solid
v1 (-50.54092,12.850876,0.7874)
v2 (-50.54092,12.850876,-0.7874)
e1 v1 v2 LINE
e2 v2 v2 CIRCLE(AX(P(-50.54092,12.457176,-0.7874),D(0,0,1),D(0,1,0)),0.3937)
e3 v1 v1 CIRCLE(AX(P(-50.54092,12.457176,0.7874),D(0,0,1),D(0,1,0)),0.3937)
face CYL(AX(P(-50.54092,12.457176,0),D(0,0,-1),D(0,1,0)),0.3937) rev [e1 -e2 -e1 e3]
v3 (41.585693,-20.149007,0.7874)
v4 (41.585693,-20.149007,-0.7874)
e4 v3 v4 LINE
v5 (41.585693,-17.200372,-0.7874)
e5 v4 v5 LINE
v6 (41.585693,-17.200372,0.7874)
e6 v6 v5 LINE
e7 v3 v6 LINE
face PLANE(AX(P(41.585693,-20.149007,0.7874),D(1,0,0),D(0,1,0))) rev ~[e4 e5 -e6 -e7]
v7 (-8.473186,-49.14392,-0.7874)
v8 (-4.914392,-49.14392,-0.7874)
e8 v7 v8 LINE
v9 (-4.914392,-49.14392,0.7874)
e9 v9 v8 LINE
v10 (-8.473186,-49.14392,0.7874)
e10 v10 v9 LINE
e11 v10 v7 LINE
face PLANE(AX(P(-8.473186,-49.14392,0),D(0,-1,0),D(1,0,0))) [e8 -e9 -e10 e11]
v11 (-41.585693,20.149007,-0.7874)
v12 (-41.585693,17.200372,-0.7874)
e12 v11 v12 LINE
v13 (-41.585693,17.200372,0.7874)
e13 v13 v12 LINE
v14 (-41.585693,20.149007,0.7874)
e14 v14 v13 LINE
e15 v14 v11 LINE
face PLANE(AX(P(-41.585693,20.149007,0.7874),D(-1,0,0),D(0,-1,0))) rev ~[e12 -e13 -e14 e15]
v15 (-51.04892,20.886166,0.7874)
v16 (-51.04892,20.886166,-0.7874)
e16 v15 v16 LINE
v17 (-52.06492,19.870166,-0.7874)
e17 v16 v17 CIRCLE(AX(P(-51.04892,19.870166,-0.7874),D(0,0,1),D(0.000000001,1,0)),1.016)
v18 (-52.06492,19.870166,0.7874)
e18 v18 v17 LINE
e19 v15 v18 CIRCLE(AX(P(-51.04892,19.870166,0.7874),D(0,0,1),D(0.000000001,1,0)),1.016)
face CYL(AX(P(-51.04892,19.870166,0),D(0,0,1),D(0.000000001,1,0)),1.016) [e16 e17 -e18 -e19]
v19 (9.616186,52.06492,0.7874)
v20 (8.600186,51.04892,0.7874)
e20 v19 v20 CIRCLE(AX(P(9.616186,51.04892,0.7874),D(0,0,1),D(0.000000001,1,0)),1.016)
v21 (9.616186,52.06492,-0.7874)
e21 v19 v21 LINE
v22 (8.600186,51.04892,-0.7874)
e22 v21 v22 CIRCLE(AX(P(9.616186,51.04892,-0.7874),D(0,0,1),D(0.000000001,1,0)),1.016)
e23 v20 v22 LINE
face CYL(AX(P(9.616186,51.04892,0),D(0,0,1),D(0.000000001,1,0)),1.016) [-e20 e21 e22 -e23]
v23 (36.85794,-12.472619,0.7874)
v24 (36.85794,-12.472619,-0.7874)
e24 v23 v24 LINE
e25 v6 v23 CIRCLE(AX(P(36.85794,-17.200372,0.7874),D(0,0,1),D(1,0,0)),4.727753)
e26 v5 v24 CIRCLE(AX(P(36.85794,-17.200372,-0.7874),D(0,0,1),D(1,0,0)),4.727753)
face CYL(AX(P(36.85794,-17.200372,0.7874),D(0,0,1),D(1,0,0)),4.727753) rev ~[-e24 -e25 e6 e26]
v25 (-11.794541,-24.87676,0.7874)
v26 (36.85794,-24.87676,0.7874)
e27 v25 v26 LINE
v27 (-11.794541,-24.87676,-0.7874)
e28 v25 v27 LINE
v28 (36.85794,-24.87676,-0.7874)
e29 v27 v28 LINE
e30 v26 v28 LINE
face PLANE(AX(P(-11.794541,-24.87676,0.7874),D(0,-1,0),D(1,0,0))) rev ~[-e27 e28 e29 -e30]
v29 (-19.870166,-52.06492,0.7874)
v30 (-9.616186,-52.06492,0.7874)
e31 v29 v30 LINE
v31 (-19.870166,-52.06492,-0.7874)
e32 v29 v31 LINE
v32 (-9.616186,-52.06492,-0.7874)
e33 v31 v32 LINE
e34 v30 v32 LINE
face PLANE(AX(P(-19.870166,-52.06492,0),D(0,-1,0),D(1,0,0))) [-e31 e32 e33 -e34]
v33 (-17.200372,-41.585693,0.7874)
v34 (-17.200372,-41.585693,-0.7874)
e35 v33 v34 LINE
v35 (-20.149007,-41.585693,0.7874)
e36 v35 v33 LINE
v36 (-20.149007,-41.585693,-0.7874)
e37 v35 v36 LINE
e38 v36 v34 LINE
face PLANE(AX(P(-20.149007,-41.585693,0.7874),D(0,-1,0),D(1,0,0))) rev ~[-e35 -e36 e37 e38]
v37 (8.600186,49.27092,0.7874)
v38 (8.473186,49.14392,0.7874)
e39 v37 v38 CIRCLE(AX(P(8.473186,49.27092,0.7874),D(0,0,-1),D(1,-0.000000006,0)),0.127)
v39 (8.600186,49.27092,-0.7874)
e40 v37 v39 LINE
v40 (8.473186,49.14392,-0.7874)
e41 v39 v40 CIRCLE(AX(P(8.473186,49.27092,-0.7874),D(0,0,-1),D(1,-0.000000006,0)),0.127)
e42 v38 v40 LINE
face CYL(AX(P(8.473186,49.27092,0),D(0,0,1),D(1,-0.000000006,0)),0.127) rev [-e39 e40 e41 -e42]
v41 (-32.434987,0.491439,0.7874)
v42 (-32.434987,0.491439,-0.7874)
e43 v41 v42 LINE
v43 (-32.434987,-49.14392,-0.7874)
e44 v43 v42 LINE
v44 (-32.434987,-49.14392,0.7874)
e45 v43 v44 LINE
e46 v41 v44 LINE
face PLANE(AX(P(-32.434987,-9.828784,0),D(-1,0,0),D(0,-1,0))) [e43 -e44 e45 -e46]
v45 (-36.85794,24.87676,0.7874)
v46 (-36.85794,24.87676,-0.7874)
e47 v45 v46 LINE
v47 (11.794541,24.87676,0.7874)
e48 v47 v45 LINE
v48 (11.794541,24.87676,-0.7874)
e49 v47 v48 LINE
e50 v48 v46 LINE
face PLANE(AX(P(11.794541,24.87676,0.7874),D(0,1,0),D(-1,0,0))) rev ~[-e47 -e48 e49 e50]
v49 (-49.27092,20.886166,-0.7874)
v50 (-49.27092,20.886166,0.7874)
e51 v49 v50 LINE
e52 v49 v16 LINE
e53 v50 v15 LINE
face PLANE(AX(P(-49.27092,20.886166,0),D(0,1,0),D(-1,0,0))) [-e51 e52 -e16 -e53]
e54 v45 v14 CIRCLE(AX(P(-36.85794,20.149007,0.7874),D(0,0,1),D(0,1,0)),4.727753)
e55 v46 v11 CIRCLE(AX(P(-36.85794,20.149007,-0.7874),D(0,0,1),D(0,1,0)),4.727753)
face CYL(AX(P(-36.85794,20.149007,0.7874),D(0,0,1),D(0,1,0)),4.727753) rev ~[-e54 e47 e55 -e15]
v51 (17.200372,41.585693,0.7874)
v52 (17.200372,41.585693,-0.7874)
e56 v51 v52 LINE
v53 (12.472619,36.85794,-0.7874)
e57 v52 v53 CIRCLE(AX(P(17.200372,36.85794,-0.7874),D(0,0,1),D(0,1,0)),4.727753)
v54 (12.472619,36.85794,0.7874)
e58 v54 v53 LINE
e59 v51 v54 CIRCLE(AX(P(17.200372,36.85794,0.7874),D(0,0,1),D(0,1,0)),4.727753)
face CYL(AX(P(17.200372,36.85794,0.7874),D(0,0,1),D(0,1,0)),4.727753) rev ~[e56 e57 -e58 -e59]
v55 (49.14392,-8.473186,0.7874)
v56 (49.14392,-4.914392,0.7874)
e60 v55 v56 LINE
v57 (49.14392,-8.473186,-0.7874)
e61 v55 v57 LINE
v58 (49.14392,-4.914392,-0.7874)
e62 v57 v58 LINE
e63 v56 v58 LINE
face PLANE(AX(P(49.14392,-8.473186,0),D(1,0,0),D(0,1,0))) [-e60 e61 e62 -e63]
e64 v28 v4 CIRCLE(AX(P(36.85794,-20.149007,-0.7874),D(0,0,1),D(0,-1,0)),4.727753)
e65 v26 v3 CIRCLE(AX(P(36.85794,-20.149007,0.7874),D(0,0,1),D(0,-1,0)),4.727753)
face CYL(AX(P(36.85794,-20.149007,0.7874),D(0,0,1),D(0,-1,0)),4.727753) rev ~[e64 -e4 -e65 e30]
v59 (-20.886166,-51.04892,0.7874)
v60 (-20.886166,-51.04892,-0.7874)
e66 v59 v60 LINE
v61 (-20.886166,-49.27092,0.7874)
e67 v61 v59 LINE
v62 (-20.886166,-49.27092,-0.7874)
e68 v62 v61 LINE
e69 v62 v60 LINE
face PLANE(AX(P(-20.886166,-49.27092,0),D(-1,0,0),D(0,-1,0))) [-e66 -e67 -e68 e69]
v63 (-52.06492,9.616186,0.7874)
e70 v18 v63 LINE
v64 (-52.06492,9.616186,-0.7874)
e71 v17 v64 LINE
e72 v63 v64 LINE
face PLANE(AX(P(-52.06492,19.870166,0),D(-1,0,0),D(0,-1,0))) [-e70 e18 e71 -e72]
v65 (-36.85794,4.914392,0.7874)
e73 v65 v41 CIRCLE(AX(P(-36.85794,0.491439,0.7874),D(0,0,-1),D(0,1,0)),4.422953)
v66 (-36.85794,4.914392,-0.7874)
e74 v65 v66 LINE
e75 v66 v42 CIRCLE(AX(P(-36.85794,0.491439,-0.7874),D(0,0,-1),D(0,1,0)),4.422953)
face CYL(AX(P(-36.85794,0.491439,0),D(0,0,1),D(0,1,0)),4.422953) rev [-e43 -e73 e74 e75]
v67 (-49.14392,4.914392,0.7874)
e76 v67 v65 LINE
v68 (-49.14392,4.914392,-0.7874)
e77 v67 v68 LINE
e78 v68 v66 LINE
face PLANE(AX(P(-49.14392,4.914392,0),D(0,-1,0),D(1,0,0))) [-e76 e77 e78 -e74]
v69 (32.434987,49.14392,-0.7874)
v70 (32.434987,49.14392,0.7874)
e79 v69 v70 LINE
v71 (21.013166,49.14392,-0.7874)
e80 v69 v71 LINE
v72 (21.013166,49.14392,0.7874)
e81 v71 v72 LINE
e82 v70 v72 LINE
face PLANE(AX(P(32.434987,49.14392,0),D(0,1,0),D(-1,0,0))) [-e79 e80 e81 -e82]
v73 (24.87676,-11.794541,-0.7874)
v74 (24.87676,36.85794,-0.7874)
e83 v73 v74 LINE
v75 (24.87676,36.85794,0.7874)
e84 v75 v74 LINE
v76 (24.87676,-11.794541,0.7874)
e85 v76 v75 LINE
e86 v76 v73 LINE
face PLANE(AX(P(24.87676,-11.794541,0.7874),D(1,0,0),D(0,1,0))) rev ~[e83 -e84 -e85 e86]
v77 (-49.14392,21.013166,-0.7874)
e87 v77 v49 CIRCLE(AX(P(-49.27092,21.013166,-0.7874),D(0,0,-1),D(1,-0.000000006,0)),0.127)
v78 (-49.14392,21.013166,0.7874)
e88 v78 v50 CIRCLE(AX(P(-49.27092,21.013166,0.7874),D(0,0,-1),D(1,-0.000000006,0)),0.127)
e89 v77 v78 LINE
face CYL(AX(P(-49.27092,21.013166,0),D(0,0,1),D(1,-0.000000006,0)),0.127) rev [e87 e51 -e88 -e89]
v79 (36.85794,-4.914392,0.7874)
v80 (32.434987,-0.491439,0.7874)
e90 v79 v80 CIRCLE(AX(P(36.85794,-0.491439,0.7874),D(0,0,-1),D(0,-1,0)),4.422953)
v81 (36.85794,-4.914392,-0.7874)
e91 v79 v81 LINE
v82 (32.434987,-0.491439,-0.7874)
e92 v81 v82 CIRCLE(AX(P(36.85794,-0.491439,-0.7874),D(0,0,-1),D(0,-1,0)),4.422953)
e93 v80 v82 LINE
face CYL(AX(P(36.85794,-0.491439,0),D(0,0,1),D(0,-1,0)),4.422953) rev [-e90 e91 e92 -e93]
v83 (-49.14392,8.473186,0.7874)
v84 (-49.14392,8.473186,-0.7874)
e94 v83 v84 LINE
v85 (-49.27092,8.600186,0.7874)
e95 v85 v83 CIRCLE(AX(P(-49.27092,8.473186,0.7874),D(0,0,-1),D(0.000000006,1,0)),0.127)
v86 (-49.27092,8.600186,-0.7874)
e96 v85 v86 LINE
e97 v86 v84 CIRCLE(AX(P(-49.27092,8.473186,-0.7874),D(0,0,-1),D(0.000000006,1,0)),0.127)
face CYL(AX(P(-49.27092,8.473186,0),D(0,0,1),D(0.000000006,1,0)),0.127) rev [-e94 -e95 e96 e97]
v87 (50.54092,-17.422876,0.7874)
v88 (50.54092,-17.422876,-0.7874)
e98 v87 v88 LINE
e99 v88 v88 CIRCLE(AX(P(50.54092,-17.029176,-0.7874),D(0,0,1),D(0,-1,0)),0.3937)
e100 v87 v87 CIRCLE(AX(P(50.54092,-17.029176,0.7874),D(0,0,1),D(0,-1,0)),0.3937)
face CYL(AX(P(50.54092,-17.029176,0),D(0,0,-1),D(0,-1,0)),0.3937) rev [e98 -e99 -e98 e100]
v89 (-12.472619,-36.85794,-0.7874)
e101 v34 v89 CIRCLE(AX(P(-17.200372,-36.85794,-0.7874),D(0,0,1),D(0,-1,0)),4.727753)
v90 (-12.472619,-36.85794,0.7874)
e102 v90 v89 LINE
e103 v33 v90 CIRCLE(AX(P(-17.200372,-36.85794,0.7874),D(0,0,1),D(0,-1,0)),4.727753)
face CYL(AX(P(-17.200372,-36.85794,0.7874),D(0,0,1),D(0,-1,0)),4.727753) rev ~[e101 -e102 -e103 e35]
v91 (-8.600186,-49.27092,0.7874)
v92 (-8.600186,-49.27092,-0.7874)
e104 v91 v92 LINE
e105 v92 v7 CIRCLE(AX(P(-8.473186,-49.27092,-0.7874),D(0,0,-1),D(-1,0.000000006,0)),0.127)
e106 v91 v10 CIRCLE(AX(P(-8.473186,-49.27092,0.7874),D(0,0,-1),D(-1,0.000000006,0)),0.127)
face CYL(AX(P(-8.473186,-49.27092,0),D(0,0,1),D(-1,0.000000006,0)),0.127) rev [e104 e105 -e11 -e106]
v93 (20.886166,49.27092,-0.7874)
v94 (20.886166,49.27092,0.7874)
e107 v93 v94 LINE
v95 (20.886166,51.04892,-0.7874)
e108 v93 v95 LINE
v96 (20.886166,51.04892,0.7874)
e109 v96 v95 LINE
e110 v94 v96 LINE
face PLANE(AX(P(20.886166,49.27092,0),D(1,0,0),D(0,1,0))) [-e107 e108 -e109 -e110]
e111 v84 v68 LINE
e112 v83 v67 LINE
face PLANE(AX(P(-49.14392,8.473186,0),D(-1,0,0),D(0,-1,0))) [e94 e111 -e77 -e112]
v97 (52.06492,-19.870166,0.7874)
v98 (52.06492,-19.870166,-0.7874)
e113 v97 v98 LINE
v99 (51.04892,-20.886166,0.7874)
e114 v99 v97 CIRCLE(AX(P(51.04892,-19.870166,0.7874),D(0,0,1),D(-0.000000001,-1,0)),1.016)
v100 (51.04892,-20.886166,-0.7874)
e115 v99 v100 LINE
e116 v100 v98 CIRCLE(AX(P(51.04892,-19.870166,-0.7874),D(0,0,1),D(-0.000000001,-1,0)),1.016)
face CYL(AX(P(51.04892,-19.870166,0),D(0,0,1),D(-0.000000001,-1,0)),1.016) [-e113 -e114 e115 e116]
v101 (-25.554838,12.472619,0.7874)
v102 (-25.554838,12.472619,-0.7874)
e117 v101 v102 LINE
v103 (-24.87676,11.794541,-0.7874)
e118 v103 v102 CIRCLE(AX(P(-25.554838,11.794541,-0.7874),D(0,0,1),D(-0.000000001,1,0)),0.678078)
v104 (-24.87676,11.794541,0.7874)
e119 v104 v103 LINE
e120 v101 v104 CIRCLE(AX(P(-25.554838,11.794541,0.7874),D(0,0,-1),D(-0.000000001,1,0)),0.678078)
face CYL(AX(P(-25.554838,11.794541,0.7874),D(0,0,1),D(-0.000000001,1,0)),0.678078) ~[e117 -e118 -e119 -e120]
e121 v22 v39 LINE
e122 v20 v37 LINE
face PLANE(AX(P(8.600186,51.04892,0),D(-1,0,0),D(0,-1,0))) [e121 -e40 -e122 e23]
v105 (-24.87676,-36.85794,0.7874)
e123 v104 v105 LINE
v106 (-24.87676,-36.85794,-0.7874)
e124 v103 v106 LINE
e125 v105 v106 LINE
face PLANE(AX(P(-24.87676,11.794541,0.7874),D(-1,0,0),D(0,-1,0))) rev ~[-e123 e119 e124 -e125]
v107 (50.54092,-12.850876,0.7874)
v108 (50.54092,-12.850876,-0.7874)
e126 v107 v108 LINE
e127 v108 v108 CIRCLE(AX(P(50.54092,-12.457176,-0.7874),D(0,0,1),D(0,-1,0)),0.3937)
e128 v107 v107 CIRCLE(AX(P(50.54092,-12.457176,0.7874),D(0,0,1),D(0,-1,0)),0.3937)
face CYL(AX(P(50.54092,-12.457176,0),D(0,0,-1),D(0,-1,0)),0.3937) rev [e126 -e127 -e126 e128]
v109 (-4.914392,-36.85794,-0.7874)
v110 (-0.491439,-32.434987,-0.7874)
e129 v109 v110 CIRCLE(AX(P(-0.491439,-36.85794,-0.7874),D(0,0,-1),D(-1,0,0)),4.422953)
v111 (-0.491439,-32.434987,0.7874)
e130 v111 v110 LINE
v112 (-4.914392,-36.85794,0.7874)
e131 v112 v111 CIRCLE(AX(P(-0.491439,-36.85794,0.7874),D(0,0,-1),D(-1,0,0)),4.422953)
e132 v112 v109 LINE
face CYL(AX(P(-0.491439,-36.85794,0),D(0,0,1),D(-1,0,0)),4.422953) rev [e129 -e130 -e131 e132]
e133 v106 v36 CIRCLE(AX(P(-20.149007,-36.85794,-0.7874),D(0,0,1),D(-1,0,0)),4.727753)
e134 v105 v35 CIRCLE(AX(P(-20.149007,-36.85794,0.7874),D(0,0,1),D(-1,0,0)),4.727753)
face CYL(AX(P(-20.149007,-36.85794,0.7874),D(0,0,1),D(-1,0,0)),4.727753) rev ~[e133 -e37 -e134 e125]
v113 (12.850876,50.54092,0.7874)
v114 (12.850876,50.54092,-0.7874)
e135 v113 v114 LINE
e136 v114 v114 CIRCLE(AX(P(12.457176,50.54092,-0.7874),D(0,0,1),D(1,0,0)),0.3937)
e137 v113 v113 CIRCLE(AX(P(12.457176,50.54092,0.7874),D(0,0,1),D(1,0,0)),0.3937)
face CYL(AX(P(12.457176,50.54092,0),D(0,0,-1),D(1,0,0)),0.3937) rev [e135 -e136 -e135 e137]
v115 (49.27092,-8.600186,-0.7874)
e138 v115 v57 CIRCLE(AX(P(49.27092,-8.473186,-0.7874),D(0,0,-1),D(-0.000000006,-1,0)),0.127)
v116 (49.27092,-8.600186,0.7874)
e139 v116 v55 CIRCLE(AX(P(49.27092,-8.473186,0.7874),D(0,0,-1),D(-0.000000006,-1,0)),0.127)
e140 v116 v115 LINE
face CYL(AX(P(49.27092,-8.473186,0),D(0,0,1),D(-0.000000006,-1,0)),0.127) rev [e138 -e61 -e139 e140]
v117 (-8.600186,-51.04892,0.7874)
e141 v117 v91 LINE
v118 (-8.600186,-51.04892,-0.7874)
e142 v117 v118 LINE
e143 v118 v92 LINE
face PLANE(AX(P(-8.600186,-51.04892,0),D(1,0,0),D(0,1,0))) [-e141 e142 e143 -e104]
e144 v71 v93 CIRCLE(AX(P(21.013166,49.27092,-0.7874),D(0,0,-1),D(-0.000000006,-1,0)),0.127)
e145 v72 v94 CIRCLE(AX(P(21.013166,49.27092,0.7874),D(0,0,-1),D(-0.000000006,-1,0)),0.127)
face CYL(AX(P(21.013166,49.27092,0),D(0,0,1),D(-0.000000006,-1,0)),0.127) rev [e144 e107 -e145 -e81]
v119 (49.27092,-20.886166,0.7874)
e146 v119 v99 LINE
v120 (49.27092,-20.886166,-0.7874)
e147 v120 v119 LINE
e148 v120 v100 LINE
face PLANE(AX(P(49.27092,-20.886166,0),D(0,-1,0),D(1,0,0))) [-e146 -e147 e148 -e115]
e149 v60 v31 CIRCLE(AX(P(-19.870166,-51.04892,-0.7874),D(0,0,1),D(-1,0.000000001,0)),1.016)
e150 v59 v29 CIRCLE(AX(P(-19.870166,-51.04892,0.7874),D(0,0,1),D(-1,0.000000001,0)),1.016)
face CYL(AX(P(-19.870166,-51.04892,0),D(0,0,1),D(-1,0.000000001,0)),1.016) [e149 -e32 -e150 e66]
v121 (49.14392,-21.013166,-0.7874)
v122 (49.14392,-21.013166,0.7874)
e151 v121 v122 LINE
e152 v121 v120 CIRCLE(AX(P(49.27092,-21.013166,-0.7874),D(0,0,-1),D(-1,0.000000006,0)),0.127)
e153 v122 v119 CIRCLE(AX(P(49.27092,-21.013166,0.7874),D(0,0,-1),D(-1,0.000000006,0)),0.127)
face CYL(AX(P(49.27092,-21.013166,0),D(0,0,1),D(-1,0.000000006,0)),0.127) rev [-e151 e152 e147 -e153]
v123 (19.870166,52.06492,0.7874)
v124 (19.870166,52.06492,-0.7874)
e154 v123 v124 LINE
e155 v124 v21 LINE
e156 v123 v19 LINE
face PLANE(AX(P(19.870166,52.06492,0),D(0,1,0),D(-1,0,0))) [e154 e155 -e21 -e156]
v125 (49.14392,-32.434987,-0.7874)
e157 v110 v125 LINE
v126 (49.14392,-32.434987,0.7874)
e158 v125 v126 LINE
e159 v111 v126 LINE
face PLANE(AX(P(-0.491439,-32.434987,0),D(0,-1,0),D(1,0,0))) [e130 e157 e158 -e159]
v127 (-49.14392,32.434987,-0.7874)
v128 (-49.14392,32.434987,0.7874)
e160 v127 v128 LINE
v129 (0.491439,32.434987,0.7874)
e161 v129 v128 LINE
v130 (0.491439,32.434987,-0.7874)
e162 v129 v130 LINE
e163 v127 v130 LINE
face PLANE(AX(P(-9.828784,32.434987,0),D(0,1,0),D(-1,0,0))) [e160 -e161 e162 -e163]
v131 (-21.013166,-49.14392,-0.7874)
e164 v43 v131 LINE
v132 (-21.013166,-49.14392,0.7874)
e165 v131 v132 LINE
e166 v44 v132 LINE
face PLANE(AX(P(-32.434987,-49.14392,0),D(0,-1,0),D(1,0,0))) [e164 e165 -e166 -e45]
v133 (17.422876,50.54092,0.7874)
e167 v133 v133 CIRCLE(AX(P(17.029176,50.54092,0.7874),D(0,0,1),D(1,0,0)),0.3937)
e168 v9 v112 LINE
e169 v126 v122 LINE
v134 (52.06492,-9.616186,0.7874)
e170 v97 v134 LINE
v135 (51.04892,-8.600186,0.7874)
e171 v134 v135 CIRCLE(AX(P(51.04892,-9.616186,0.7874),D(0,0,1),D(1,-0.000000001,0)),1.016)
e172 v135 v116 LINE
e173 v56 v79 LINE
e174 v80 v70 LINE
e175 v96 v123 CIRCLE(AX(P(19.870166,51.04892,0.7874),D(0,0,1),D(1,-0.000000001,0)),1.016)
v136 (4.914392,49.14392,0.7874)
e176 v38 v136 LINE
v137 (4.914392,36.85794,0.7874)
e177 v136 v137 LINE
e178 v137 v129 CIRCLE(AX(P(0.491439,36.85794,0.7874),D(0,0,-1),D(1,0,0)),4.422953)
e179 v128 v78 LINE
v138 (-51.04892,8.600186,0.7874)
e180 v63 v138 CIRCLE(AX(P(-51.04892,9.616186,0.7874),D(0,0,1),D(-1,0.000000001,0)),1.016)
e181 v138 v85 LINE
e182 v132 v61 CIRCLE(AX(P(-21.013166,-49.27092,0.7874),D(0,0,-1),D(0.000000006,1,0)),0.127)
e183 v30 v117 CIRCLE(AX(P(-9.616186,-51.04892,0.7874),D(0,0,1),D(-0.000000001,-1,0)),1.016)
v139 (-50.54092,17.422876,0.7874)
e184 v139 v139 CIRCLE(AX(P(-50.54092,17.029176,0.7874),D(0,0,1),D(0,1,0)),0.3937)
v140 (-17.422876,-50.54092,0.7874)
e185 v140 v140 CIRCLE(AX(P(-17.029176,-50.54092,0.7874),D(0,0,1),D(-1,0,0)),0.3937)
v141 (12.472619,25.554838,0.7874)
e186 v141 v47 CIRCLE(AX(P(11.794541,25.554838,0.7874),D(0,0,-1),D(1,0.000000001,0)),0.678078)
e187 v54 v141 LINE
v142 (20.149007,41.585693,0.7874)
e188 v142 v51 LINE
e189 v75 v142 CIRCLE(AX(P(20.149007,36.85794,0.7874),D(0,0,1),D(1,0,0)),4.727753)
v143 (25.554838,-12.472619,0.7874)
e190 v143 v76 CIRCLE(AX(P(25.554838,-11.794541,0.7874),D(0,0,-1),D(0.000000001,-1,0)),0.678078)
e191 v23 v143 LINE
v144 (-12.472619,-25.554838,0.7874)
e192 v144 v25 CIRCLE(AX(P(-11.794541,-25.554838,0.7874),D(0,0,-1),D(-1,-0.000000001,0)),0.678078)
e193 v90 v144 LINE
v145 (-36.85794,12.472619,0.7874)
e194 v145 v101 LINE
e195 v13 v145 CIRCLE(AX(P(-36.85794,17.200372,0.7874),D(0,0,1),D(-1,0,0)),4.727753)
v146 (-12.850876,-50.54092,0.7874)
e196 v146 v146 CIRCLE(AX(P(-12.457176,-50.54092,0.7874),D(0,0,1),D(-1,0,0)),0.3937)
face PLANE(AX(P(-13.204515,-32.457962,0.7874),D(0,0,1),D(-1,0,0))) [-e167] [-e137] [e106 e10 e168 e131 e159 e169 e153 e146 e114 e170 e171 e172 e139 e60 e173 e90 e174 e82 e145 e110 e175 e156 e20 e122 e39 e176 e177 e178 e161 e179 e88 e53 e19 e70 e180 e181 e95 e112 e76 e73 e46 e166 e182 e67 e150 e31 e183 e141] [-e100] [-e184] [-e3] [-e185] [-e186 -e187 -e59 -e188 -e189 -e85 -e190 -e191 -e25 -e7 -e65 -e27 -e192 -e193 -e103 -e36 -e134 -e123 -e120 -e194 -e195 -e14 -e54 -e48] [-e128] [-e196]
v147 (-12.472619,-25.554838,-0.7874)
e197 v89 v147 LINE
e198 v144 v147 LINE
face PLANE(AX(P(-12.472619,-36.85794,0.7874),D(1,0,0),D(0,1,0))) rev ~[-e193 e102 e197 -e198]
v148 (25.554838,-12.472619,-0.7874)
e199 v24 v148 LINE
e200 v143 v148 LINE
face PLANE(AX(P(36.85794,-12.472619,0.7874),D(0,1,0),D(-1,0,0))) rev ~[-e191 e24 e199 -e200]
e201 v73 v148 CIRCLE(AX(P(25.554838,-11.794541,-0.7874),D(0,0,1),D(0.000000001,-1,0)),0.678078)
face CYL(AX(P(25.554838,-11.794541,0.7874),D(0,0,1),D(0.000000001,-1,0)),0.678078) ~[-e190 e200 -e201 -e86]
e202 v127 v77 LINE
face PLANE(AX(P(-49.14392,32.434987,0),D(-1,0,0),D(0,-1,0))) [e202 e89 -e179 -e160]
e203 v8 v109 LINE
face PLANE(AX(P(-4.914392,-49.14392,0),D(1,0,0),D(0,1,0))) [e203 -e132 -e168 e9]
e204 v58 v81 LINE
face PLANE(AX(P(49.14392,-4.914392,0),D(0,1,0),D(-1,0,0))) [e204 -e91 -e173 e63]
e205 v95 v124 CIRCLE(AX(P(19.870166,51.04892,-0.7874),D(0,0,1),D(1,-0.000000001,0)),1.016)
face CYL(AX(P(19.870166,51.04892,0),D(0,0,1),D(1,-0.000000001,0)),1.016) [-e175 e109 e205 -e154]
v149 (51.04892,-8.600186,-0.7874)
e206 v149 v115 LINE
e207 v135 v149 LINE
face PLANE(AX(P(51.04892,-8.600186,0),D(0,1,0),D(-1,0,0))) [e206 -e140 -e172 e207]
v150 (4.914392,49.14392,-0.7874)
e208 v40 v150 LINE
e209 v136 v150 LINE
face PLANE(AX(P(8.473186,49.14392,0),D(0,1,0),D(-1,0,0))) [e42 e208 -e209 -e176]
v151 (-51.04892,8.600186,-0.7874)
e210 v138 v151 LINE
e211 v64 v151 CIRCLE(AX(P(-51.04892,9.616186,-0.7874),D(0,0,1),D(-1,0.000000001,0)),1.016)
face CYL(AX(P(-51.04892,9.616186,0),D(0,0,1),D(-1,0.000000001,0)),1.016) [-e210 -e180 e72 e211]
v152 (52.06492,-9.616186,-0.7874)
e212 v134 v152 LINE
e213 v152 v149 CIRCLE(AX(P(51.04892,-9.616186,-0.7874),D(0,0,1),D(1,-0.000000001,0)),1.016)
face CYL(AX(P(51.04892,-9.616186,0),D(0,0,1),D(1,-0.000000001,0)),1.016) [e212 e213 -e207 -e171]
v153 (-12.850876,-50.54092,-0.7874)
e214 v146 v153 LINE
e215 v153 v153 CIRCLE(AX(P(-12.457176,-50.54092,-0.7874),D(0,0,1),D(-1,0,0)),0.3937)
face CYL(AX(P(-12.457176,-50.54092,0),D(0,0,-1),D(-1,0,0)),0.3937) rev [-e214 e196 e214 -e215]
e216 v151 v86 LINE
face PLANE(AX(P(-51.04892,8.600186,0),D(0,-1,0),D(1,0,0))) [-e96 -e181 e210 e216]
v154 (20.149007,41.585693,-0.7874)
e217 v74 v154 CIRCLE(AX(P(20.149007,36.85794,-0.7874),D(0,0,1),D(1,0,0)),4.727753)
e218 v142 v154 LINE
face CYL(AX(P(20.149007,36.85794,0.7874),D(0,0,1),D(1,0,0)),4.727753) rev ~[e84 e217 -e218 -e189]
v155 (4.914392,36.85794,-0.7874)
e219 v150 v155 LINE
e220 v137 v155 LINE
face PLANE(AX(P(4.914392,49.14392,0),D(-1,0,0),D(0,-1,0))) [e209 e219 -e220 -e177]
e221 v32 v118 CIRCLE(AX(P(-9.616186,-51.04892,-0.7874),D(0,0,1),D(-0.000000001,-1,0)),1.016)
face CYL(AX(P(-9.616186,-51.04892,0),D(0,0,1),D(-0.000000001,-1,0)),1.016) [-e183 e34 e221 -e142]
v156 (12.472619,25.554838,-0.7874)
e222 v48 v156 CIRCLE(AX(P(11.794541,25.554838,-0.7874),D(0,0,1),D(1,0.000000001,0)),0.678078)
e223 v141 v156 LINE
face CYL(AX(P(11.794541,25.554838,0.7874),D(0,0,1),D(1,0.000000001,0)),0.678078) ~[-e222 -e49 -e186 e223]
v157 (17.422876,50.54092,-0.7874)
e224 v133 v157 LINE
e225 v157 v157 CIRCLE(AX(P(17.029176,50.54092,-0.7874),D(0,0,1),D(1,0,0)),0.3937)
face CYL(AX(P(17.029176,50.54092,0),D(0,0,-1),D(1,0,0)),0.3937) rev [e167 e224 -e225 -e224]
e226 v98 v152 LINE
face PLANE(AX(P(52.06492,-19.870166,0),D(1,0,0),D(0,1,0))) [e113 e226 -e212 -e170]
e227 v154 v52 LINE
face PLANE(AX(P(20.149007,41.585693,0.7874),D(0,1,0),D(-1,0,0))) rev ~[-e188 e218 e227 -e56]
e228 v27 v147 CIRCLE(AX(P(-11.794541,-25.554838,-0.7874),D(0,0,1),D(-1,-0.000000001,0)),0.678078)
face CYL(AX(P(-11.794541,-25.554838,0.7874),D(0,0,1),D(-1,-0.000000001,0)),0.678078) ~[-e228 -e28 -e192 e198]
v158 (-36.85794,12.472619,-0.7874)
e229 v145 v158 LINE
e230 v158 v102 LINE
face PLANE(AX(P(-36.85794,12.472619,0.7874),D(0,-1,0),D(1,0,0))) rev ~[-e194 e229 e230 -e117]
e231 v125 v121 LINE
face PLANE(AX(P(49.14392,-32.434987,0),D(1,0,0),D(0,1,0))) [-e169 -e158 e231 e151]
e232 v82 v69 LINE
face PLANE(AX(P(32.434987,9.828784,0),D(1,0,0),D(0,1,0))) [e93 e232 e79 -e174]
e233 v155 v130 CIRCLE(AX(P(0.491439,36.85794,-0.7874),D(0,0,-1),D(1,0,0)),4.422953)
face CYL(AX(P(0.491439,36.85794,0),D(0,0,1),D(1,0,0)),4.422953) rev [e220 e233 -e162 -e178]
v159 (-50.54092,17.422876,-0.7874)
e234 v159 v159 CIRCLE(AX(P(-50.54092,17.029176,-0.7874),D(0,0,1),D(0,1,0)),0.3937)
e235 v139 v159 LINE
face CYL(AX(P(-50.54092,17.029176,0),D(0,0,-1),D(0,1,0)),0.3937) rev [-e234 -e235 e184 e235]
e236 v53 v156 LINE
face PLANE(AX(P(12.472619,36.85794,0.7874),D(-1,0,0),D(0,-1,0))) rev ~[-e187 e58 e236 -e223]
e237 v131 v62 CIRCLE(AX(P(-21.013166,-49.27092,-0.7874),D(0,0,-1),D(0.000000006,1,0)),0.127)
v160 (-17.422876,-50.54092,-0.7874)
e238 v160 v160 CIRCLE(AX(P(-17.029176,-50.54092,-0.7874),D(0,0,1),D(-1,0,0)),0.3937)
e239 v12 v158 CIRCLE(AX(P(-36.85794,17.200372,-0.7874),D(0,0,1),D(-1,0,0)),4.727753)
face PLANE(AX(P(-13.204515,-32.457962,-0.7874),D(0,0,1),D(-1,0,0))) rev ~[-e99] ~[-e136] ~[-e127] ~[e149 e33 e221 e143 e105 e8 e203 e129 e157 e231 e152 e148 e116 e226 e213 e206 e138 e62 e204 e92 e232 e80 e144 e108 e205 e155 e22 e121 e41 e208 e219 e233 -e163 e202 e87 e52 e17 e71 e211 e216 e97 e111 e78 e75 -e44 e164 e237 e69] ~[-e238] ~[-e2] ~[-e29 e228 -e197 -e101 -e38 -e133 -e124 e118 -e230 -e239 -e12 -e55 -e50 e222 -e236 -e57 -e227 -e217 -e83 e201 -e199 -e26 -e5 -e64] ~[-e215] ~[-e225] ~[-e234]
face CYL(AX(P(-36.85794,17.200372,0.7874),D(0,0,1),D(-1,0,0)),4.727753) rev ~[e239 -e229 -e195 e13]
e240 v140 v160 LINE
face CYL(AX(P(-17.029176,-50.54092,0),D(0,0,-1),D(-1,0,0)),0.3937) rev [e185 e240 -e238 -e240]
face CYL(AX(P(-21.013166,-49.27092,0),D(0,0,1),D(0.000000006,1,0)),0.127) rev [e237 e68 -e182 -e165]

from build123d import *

# Parameters (mm, degrees)
SKETCH2_R          = 0.3937
EXTRUDE1_DEPTH     = 0.7874
CIRPATTERN1_COUNT  = 4
CUT_EXTRUDE1_DEPTH = 2.54


with BuildPart() as part:
    # Sketch2 → Extrude1 (new, symmetric)
    with BuildSketch(Plane.XY):
        with BuildLine():
            Line((-19.657568, 24.57196), (11.7945408, 24.57196))
            ThreePointArc((11.7945408, 24.57196), (12.489540782, 24.859838418), (12.7774192, 25.5548384))
            Line((12.7774192, 25.5548384), (12.7774192, 36.85794))
            ThreePointArc((12.7774192, 36.85794), (14.072872082, 39.985439918), (17.200372, 41.2808928))
            Line((17.200372, 41.2808928), (20.1490072, 41.2808928))
            ThreePointArc((20.1490072, 41.2808928), (23.276507118, 39.985439918), (24.57196, 36.85794))
            Line((24.57196, 36.85794), (24.57196, 9.828784))
            Line((24.57196, 9.828784), (32.4349872, 9.828784))
            Line((32.4349872, 9.828784), (32.4349872, 49.14392))
            Line((32.4349872, 49.14392), (21.013166, 49.14392))
            ThreePointArc((21.013166, 49.14392), (20.923363439, 49.181117439), (20.886166, 49.27092))
            Line((20.886166, 49.27092), (20.886166, 51.04892))
            ThreePointArc((20.886166, 51.04892), (20.58858649, 51.76734049), (19.870166, 52.06492))
            Line((19.870166, 52.06492), (9.616186, 52.06492))
            ThreePointArc((9.616186, 52.06492), (8.89776551, 51.76734049), (8.600186, 51.04892))
            Line((8.600186, 51.04892), (8.600186, 49.27092))
            ThreePointArc((8.600186, 49.27092), (8.562988561, 49.181117439), (8.473186, 49.14392))
            Line((8.473186, 49.14392), (4.914392, 49.14392))
            Line((4.914392, 49.14392), (4.914392, 36.85794))
            ThreePointArc((4.914392, 36.85794), (3.618939118, 33.730440082), (0.4914392, 32.4349872))
            Line((0.4914392, 32.4349872), (-19.657568, 32.4349872))
            Line((-19.657568, 32.4349872), (-19.657568, 24.57196))
        make_face()
        with Locations((12.457176, 50.54092)):
            Circle(SKETCH2_R, mode=Mode.SUBTRACT)
        with Locations((17.029176, 50.54092)):
            Circle(SKETCH2_R, mode=Mode.SUBTRACT)
    extrude1 = extrude(amount=EXTRUDE1_DEPTH, both=True)

    # CirPattern1: Extrude1 ×4 about axis
    cirpattern1_axis = Axis((0, 0, -69.733664692), (0, 0, 1))
    for i in range(1, CIRPATTERN1_COUNT):
        add(extrude1.rotate(cirpattern1_axis, i * 360 / CIRPATTERN1_COUNT))

    # Sketch3 → Cut-Extrude1 (cut)
    with BuildSketch(Plane.XY.offset(0.7874)):
        with BuildLine():
            Line((-41.5856928, 20.1490072), (-41.5856928, 17.200372))
            ThreePointArc((-41.5856928, 17.200372), (-40.200966065, 13.857345935), (-36.85794, 12.4726192))
            Line((-36.85794, 12.4726192), (-25.5548384, 12.4726192))
            ThreePointArc((-25.5548384, 12.4726192), (-25.075364565, 12.274014635), (-24.87676, 11.7945408))
            Line((-24.87676, 11.7945408), (-24.87676, -36.85794))
            ThreePointArc((-24.87676, -36.85794), (-23.492033265, -40.200966065), (-20.1490072, -41.5856928))
            Line((-20.1490072, -41.5856928), (-17.200372, -41.5856928))
            ThreePointArc((-17.200372, -41.5856928), (-13.857345935, -40.200966065), (-12.4726192, -36.85794))
            Line((-12.4726192, -36.85794), (-12.4726192, -25.5548384))
            ThreePointArc((-12.4726192, -25.5548384), (-12.274014635, -25.075364565), (-11.7945408, -24.87676))
            Line((-11.7945408, -24.87676), (36.85794, -24.87676))
            ThreePointArc((36.85794, -24.87676), (40.200966065, -23.492033265), (41.5856928, -20.1490072))
            Line((41.5856928, -20.1490072), (41.5856928, -17.200372))
            ThreePointArc((41.5856928, -17.200372), (40.200966065, -13.857345935), (36.85794, -12.4726192))
            Line((36.85794, -12.4726192), (25.5548384, -12.4726192))
            ThreePointArc((25.5548384, -12.4726192), (25.075364565, -12.274014635), (24.87676, -11.7945408))
            Line((24.87676, -11.7945408), (24.87676, 36.85794))
            ThreePointArc((24.87676, 36.85794), (23.492033265, 40.200966065), (20.1490072, 41.5856928))
            Line((20.1490072, 41.5856928), (17.200372, 41.5856928))
            ThreePointArc((17.200372, 41.5856928), (13.857345935, 40.200966065), (12.4726192, 36.85794))
            Line((12.4726192, 36.85794), (12.4726192, 25.5548384))
            ThreePointArc((12.4726192, 25.5548384), (12.274014635, 25.075364565), (11.7945408, 24.87676))
            Line((11.7945408, 24.87676), (-36.85794, 24.87676))
            ThreePointArc((-36.85794, 24.87676), (-40.200966065, 23.492033265), (-41.5856928, 20.1490072))
        make_face()
    extrude(amount=-CUT_EXTRUDE1_DEPTH, mode=Mode.SUBTRACT)


solid = part.part
